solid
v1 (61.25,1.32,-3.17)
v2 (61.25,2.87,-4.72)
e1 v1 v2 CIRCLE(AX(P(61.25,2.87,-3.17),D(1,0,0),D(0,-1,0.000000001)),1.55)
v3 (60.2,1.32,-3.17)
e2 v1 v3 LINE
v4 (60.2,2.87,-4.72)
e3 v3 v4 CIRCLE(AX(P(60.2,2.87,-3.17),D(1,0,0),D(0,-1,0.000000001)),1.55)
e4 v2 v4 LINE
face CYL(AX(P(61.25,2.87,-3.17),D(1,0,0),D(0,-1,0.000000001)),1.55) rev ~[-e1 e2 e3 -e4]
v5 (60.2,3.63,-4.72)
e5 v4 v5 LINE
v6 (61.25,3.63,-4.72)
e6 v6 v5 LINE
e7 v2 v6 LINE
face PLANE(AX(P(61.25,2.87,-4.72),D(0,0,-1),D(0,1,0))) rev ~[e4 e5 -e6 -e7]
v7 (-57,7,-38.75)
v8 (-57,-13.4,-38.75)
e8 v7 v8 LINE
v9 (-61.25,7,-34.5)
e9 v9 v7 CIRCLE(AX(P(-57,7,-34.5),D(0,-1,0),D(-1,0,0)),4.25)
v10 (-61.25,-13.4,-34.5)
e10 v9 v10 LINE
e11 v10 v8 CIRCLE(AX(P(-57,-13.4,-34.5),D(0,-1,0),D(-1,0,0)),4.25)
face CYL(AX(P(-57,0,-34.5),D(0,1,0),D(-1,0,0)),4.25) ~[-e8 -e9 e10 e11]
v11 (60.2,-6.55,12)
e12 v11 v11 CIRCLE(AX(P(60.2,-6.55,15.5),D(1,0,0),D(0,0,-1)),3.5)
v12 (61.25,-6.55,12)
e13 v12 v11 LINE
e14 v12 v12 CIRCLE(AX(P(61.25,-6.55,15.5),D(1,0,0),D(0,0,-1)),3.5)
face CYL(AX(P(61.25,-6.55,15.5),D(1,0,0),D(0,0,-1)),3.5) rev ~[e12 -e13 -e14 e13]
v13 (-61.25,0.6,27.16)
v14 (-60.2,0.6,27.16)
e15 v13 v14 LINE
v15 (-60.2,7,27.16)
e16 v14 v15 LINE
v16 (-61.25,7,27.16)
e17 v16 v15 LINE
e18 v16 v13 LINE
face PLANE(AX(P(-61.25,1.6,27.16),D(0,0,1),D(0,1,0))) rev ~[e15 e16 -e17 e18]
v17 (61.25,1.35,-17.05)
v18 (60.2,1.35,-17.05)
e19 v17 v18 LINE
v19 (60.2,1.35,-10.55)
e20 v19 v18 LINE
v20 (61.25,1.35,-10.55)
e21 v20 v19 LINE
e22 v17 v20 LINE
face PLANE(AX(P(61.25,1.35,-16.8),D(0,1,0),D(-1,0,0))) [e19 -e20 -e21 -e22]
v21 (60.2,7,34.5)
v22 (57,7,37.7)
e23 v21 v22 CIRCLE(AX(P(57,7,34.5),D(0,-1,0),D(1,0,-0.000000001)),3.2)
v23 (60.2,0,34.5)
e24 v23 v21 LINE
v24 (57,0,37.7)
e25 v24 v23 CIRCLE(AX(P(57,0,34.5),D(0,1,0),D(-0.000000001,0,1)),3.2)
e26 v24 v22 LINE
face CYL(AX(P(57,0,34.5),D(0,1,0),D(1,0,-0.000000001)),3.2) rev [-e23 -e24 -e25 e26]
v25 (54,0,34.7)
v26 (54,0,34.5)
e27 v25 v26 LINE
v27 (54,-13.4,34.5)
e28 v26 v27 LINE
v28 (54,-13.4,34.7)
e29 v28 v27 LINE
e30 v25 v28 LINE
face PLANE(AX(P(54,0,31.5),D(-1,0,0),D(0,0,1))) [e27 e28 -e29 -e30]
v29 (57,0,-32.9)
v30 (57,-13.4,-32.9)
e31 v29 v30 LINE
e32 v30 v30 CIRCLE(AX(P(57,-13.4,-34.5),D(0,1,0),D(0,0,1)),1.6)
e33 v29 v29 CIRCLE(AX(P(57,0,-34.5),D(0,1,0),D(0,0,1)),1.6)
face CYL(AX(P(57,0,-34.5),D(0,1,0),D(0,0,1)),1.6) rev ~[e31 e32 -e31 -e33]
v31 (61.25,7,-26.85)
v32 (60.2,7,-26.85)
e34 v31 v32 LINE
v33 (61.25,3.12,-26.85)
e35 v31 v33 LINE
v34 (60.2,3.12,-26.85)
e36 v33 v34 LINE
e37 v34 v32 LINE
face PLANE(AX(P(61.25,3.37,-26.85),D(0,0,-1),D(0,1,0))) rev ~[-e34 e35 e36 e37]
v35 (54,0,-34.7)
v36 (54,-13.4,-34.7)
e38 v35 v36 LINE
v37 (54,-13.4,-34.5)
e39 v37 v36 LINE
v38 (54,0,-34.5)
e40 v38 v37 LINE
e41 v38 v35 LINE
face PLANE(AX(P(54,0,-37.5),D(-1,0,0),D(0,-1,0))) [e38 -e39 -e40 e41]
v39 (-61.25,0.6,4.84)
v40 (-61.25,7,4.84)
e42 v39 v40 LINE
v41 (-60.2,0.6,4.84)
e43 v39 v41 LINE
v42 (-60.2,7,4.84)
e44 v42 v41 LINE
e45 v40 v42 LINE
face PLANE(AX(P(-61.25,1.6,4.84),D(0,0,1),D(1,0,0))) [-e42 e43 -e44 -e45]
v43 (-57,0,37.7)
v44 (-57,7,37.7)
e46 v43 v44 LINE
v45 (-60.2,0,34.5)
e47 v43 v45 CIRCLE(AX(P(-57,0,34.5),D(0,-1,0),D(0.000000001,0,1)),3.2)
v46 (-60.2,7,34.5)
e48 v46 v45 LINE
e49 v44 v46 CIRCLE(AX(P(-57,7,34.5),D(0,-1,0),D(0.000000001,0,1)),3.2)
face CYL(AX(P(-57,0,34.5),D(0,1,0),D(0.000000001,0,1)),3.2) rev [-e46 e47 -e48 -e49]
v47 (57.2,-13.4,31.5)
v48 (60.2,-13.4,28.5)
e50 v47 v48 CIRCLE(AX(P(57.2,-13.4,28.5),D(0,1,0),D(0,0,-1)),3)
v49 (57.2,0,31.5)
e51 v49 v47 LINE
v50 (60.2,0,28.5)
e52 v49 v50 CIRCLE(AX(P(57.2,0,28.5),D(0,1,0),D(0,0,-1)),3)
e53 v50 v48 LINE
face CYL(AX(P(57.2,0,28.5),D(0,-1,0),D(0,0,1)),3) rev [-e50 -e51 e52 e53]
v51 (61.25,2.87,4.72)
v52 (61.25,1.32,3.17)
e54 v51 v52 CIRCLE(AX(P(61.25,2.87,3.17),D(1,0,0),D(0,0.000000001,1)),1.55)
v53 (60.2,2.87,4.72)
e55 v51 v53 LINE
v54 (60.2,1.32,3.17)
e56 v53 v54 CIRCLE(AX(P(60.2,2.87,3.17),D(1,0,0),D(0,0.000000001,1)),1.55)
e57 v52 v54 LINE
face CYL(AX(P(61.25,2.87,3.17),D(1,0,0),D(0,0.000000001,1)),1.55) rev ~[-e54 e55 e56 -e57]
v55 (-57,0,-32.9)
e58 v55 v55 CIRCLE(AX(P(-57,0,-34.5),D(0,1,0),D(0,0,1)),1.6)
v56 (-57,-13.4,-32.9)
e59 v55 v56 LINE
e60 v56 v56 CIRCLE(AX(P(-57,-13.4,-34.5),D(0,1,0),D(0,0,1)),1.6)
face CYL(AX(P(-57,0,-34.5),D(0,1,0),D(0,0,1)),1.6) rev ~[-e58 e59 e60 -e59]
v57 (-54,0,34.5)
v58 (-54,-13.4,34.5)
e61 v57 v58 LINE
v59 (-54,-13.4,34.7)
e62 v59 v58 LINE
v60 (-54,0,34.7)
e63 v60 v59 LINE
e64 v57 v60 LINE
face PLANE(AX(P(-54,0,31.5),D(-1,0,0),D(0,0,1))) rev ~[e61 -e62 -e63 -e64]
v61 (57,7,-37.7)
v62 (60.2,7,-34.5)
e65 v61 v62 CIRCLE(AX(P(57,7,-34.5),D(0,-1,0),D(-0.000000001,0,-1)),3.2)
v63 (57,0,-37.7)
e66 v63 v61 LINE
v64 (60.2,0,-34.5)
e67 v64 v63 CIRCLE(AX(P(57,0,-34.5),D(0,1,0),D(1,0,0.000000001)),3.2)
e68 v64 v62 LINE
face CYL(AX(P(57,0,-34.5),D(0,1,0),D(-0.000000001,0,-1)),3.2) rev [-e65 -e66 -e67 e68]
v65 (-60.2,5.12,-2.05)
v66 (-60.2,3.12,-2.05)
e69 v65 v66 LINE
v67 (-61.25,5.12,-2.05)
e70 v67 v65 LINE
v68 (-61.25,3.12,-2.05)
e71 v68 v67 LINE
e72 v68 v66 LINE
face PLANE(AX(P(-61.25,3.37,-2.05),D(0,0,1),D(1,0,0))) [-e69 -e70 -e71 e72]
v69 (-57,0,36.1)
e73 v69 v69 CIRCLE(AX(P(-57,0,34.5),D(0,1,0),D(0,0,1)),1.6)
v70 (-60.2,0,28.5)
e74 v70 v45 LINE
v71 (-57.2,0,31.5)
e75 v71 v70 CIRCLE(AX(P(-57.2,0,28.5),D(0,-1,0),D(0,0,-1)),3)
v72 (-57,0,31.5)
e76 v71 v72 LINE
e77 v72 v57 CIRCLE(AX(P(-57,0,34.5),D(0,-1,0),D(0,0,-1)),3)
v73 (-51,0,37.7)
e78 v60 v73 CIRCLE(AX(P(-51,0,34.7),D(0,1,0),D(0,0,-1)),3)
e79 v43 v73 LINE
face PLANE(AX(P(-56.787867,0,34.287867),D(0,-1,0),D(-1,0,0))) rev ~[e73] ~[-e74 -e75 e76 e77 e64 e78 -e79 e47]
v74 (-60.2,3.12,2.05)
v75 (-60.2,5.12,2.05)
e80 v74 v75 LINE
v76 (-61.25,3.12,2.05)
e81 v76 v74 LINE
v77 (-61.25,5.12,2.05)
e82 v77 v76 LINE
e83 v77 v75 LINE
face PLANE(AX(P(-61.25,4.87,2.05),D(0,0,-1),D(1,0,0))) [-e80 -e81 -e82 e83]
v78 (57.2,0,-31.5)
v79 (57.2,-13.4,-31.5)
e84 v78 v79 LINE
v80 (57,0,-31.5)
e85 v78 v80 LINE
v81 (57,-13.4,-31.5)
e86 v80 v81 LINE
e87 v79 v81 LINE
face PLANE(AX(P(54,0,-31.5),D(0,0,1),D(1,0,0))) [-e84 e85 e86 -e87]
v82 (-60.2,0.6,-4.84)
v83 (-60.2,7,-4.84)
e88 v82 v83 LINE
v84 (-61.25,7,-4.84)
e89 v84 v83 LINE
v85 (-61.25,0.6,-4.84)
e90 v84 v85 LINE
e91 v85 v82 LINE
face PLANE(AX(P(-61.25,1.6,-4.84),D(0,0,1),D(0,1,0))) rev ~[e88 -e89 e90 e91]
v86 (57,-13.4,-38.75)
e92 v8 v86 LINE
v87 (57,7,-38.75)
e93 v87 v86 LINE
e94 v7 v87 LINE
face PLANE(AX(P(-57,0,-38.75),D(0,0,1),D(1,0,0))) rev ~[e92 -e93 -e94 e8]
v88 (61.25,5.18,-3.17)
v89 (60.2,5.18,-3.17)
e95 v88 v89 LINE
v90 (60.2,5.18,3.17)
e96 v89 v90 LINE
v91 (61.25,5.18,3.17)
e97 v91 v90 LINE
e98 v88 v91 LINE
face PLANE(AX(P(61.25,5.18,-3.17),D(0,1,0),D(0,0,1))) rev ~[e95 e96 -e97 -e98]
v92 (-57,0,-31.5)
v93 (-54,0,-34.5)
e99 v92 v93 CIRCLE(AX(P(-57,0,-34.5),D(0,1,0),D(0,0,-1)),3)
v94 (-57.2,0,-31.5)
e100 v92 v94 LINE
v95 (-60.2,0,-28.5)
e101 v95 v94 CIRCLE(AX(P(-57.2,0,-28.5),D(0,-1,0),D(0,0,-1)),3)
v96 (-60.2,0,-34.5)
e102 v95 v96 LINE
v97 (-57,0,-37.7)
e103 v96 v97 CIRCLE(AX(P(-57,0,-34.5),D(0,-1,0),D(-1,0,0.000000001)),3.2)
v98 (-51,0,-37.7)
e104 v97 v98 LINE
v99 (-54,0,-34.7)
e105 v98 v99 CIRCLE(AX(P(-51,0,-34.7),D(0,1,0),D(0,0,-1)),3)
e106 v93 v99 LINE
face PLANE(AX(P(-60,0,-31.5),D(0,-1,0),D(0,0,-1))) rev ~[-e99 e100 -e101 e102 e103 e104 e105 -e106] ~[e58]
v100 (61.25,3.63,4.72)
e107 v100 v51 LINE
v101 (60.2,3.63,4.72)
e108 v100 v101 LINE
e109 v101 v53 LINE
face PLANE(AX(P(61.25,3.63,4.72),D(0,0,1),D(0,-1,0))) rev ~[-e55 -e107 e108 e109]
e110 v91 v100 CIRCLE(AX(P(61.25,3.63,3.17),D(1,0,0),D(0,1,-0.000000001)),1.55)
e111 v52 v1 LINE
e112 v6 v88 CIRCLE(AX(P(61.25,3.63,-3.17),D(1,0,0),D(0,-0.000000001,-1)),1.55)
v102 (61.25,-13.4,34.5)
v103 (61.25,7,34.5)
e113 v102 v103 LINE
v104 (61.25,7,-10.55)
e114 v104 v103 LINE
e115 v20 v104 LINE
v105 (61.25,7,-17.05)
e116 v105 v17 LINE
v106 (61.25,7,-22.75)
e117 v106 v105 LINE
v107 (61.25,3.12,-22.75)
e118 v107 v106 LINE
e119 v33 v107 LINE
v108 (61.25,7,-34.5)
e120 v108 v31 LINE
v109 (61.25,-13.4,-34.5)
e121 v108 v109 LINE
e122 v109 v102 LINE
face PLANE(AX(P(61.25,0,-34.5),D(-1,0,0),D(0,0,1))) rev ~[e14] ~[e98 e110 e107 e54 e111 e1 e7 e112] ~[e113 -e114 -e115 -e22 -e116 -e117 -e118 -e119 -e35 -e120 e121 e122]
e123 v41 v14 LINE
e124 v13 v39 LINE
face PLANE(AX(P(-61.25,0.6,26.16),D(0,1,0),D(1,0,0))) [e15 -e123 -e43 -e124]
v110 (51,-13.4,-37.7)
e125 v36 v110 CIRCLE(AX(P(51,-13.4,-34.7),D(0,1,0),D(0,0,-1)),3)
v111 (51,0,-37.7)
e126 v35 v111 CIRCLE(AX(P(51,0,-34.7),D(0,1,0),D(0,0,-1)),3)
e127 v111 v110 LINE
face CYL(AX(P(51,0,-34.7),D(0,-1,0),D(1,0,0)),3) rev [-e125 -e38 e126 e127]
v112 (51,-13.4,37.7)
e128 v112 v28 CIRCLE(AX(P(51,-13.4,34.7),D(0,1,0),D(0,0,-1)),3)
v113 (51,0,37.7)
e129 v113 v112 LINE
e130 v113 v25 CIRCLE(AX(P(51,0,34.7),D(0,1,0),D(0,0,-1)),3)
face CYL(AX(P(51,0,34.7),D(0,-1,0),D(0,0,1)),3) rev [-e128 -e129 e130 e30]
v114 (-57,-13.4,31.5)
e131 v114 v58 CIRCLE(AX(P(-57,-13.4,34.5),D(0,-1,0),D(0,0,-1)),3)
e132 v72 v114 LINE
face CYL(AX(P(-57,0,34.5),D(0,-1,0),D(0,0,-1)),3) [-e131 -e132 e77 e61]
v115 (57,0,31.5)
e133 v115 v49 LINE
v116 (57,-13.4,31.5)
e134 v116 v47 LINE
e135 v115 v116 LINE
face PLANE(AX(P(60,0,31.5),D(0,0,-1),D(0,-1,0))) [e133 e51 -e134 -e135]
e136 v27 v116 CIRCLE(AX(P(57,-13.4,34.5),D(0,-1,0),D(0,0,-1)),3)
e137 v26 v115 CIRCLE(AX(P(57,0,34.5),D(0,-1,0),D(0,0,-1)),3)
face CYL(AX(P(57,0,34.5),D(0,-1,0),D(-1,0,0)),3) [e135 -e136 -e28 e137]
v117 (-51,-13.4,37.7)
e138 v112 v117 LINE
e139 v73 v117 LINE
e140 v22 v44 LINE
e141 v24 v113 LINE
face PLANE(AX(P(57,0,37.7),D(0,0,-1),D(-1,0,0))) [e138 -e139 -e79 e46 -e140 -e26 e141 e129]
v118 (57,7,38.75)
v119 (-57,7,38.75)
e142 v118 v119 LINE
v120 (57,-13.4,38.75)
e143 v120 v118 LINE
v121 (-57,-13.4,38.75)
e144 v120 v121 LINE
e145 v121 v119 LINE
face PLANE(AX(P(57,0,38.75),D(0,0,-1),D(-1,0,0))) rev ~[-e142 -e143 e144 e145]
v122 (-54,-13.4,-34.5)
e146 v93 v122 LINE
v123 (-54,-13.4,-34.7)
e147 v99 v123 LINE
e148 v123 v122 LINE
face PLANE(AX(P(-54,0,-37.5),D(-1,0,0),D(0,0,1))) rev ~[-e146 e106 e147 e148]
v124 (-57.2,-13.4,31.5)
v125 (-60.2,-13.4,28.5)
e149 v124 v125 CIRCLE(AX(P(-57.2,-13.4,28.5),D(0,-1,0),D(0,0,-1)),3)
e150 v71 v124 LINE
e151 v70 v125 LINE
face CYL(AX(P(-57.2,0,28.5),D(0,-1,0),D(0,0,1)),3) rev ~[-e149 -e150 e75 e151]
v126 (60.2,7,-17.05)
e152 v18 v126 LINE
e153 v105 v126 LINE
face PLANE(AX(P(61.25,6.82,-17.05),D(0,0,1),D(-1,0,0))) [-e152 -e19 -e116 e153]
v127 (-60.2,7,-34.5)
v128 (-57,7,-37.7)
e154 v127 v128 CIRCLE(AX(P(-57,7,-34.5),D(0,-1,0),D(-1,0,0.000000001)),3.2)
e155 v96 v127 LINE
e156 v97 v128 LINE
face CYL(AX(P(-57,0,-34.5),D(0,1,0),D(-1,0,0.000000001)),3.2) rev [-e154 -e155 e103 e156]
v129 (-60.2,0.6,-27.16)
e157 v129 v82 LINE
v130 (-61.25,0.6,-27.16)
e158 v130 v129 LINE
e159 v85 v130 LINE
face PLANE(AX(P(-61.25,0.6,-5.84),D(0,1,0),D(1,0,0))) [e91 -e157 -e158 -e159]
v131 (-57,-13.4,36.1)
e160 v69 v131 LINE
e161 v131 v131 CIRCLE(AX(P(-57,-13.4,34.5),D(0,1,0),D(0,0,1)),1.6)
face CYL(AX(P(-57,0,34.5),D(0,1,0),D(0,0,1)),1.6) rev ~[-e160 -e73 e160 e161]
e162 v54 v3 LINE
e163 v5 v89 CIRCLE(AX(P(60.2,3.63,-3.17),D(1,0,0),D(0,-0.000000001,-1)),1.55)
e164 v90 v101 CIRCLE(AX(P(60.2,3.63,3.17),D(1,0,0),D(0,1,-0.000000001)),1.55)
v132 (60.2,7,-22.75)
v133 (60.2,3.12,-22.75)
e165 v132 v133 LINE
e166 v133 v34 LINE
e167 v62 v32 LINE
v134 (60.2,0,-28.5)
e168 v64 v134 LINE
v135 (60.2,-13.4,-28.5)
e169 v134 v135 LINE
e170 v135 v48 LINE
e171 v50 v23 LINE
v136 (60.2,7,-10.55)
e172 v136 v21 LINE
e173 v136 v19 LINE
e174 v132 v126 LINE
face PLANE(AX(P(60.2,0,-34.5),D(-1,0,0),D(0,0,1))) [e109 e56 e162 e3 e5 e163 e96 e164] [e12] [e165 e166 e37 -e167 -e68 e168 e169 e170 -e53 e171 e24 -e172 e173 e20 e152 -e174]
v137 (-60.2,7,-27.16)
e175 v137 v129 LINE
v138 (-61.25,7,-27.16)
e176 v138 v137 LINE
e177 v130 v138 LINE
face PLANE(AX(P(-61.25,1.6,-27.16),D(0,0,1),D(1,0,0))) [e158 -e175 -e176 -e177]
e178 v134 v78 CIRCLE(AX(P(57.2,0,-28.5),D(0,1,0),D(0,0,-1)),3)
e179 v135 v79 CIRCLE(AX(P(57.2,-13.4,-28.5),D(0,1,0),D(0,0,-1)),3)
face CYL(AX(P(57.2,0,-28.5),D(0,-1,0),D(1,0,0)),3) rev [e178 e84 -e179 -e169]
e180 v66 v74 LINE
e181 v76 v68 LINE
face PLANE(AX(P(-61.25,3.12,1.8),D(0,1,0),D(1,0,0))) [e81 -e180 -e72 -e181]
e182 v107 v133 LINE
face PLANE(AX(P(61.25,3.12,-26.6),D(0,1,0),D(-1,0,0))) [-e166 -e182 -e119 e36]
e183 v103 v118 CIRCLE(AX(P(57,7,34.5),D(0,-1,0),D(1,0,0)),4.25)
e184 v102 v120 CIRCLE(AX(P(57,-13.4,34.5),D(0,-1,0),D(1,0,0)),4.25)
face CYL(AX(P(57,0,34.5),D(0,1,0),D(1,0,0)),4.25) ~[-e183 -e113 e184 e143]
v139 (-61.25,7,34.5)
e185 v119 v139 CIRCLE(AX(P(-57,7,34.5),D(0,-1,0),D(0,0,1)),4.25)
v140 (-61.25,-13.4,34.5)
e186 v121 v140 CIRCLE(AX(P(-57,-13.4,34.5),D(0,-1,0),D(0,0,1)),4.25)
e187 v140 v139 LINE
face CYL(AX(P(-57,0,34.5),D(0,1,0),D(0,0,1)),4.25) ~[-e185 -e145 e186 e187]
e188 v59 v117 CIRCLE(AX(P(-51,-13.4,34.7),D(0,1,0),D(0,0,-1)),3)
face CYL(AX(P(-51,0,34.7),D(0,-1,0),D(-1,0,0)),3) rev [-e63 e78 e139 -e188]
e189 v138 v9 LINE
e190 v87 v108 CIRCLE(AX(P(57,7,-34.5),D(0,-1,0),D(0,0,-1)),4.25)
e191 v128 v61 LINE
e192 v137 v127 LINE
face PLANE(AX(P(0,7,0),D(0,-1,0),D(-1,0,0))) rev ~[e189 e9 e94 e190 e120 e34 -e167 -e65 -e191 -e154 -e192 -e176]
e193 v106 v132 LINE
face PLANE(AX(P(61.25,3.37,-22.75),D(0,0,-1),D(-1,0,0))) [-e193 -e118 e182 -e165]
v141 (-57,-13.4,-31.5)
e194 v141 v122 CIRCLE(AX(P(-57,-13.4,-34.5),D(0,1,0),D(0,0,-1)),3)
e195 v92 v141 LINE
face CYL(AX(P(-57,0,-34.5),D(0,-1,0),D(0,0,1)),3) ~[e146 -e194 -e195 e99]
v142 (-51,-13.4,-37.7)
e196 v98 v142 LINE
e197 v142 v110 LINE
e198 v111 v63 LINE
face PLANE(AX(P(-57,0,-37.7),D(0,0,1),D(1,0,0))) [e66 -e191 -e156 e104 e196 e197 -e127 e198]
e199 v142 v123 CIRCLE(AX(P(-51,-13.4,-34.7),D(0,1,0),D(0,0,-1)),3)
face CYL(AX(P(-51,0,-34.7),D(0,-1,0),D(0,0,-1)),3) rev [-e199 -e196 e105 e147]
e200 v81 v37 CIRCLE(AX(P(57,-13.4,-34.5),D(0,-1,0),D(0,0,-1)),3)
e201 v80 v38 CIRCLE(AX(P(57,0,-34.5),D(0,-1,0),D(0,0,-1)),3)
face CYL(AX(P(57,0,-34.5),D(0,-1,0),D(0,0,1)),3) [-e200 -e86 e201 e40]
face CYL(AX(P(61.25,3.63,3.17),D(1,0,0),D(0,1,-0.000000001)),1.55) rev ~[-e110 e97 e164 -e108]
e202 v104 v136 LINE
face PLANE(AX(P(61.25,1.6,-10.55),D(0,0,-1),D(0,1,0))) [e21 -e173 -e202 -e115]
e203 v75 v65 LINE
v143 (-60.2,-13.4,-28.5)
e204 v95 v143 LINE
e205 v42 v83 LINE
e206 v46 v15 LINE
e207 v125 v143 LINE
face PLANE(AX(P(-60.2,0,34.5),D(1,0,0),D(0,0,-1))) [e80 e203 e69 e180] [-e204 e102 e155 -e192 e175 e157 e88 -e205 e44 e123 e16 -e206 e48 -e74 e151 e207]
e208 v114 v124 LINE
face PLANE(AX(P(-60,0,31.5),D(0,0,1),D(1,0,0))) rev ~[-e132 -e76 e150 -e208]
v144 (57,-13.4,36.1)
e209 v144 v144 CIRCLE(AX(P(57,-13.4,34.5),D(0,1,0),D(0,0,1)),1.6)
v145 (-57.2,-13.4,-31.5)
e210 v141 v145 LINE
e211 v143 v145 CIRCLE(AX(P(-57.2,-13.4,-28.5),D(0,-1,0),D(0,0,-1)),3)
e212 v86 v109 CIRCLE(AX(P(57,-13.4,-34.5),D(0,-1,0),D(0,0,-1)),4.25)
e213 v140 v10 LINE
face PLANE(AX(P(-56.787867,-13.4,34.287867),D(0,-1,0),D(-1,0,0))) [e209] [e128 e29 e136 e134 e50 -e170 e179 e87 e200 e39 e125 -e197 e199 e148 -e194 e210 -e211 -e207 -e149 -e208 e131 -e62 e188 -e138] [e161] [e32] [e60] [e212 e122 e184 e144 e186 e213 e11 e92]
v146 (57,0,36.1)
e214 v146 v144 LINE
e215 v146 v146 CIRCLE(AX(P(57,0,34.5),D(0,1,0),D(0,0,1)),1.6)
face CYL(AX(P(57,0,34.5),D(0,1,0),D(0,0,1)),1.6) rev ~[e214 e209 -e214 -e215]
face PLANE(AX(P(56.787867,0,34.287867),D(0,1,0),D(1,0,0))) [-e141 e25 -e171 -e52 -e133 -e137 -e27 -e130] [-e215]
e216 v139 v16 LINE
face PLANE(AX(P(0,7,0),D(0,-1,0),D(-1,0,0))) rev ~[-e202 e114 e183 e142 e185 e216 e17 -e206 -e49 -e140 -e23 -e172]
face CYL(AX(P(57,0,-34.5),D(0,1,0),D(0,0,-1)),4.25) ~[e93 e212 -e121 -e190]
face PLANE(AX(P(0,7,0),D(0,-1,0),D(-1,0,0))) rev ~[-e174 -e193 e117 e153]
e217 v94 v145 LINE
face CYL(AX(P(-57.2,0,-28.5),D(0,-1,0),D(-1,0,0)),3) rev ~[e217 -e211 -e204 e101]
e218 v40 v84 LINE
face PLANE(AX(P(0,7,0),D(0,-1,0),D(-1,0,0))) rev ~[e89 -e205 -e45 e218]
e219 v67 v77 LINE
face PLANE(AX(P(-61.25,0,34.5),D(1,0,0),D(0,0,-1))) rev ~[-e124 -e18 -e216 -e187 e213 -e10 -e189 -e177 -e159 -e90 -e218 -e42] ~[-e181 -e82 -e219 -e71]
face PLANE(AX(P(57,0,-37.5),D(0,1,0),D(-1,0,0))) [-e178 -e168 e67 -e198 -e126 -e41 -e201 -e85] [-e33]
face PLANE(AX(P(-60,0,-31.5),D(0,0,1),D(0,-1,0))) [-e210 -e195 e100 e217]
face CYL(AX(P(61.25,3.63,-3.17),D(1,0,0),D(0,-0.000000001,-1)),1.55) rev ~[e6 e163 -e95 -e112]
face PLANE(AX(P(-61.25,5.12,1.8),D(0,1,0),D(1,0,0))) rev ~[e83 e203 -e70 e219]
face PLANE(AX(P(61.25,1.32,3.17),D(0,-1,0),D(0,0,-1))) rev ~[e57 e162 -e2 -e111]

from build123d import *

# Parameters (mm, degrees)
WALLS_DEPTH         = 7
WALLS_DEPTH_BACK    = 13.4
SKETCH11_R          = 1.6
BOSS_EXTRUDE4_DEPTH = 13.4
MOVE_FACE7_BY       = 0.2
MOVE_FACE7_2_BY     = 0.2
MOVE_FACE7_3_BY     = 0.2
MOVE_FACE7_4_BY     = 0.2
MOVE_FACE7_5_BY     = 0.2
MOVE_FACE7_6_BY     = 0.2
MOVE_FACE7_7_BY     = 0.2
MOVE_FACE7_8_BY     = 0.2
FILLET1_R           = 3
SKETCH8_R           = 3.25
SKETCH8_W           = 6
SKETCH8_H           = 5.22
CUT_EXTRUDE3_DEPTH  = 1.05
CUT_EXTRUDE4_REACH  = 131.18
SKETCH10_W          = 20.32
SKETCH10_H          = 5.4
SKETCH10_W_2        = 3.6
SKETCH10_H_2        = 1.5
MOVE_FACE3_BY       = 0.25
MOVE_FACE3_2_BY     = 0.25
MOVE_FACE3_3_BY     = 0.25
MOVE_FACE4_BY       = 0.25
MOVE_FACE4_2_BY     = 0.25
MOVE_FACE4_3_BY     = 0.25
MOVE_FACE4_4_BY     = 0.25
MOVE_FACE4_5_BY     = 0.25
MOVE_FACE4_6_BY     = 0.25
MOVE_FACE4_7_BY     = 0.25
MOVE_FACE4_8_BY     = 0.25
MOVE_FACE4_9_BY     = 0.25
MOVE_FACE4_10_BY    = 0.25
MOVE_FACE4_11_BY    = 0.25
MOVE_FACE4_12_BY    = 0.25
MOVE_FACE4_13_BY    = 0.25
MOVE_FACE1_BY       = 1
MOVE_FACE1_2_BY     = 1
MOVE_FACE1_3_BY     = 1
MOVE_FACE1_4_BY     = 1
MOVE_FACE1_5_BY     = 1
MOVE_FACE1_6_BY     = 1
MOVE_FACE2_BY       = 0.25
MOVE_FACE2_2_BY     = 0.25
MOVE_FACE2_3_BY     = 0.25
MOVE_FACE2_4_BY     = 0.25
SKETCH4_R           = 2.15
BOTTOM_LID_DEPTH    = 3
SKETCH5_R           = 5.5
SKETCH5_R_2         = 1.6
SKETCH5_W           = 7.62
SKETCH5_H           = 2.54
TOP_LID_DEPTH       = 1.6
MOVE_FACE5_BY       = 0.25
MOVE_FACE5_2_BY     = 0.25
MOVE_FACE5_3_BY     = 0.25
MOVE_FACE5_4_BY     = 0.25


with BuildPart() as part:
    # Sketch2 → Walls (new, two sides)
    with BuildSketch(Plane(origin=(0, 0, 0), x_dir=(1, 0, 0), z_dir=(0, 1, 0))) as walls_sk:
        with BuildLine():
            Line((-61.25, -34.5), (-61.25, 34.5))
            ThreePointArc((-61.25, 34.5), (-60.00520382, 37.50520382), (-57, 38.75))
            Line((-57, 38.75), (57, 38.75))
            ThreePointArc((57, 38.75), (60.00520382, 37.50520382), (61.25, 34.5))
            Line((61.25, 34.5), (61.25, -34.5))
            ThreePointArc((61.25, -34.5), (60.00520382, -37.50520382), (57, -38.75))
            Line((57, -38.75), (-57, -38.75))
            ThreePointArc((-57, -38.75), (-60.00520382, -37.50520382), (-61.25, -34.5))
        make_face()
        with BuildLine():
            Line((-60, -34.5), (-60, 34.5))
            ThreePointArc((-60, 34.5), (-59.121320344, 36.621320344), (-57, 37.5))
            Line((-57, 37.5), (57, 37.5))
            ThreePointArc((57, 37.5), (59.121320344, 36.621320344), (60, 34.5))
            Line((60, 34.5), (60, -34.5))
            ThreePointArc((60, -34.5), (59.121320344, -36.621320344), (57, -37.5))
            Line((57, -37.5), (-57, -37.5))
            ThreePointArc((-57, -37.5), (-59.121320344, -36.621320344), (-60, -34.5))
        make_face(mode=Mode.SUBTRACT)
    extrude(amount=WALLS_DEPTH)
    extrude(walls_sk.sketch, amount=-WALLS_DEPTH_BACK)

    # Sketch11 → Boss-Extrude4 (add)
    with BuildSketch(Plane(origin=(0, 0, 0), x_dir=(1, 0, 0), z_dir=(0, 1, 0))):
        with BuildLine():
            Line((-60, -34.5), (-60, -31.5))
            Line((-60, -31.5), (-54, -31.5))
            Line((-54, -31.5), (-54, -37.5))
            Line((-54, -37.5), (-57, -37.5))
            ThreePointArc((-57, -37.5), (-59.121320344, -36.621320344), (-60, -34.5))
        make_face()
        with Locations(Location((-57, -34.5, 0), (0, 0, 270))):
            Circle(SKETCH11_R, mode=Mode.SUBTRACT)
        with BuildLine():
            Line((-57, 37.5), (-54, 37.5))
            Line((-54, 37.5), (-54, 31.5))
            Line((-54, 31.5), (-60, 31.5))
            Line((-60, 31.5), (-60, 34.5))
            ThreePointArc((-60, 34.5), (-59.121320344, 36.621320344), (-57, 37.5))
        make_face()
        with Locations(Location((-57, 34.5, 0), (0, 0, 270))):
            Circle(SKETCH11_R, mode=Mode.SUBTRACT)
        with BuildLine():
            Line((60, -31.5), (54, -31.5))
            Line((54, -31.5), (54, -37.5))
            Line((54, -37.5), (57, -37.5))
            ThreePointArc((57, -37.5), (59.121320344, -36.621320344), (60, -34.5))
            Line((60, -34.5), (60, -31.5))
        make_face()
        with Locations(Location((57, -34.5, 0), (0, 0, 270))):
            Circle(SKETCH11_R, mode=Mode.SUBTRACT)
        with BuildLine():
            Line((57, 37.5), (54, 37.5))
            Line((54, 37.5), (54, 31.5))
            Line((54, 31.5), (60, 31.5))
            Line((60, 31.5), (60, 34.5))
            ThreePointArc((60, 34.5), (59.121320344, 36.621320344), (57, 37.5))
        make_face()
        with Locations(Location((57, 34.5, 0), (0, 0, 270))):
            Circle(SKETCH11_R, mode=Mode.SUBTRACT)
    extrude(amount=-BOSS_EXTRUDE4_DEPTH)

    # Move Face7: a curved face moved inward by 0.2
    add(Solid.thicken(part.faces().sort_by_distance((59.121320344, 3.5, 36.621320344))[0], -MOVE_FACE7_BY), mode=Mode.SUBTRACT)

    # Move Face7 2: a face moved inward by 0.2
    extrude(part.faces().sort_by_distance((60, -2.987974684, 0))[0], amount=MOVE_FACE7_2_BY, dir=(1, 0, 0), mode=Mode.SUBTRACT)

    # Move Face7 3: a curved face moved inward by 0.2
    add(Solid.thicken(part.faces().sort_by_distance((59.121320344, 3.5, -36.621320344))[0], -MOVE_FACE7_3_BY), mode=Mode.SUBTRACT)

    # Move Face7 4: a face moved inward by 0.2
    extrude(part.faces().sort_by_distance((0, -3.074665954, -37.5))[0], amount=MOVE_FACE7_4_BY, dir=(0, 0, -1), mode=Mode.SUBTRACT)

    # Move Face7 5: a curved face moved inward by 0.2
    add(Solid.thicken(part.faces().sort_by_distance((-59.121320344, 3.5, -36.621320344))[0], -MOVE_FACE7_5_BY), mode=Mode.SUBTRACT)

    # Move Face7 6: a face moved inward by 0.2
    extrude(part.faces().sort_by_distance((-60, -2.987974684, 0))[0], amount=MOVE_FACE7_6_BY, dir=(-1, 0, 0), mode=Mode.SUBTRACT)

    # Move Face7 7: a face moved inward by 0.2
    extrude(part.faces().sort_by_distance((0, -3.074665954, 37.5))[0], amount=MOVE_FACE7_7_BY, dir=(0, 0, 1), mode=Mode.SUBTRACT)

    # Move Face7 8: a curved face moved inward by 0.2
    add(Solid.thicken(part.faces().sort_by_distance((-59.121320344, 3.5, 36.621320344))[0], -MOVE_FACE7_8_BY), mode=Mode.SUBTRACT)

    # Fillet1
    fillet1_edges = [part.edges().sort_by_distance(p)[0] for p in [
        (-60.2, -6.7, -31.5),
        (-54, -6.7, -31.5),
        (-54, -6.7, -37.7),
        (54, -6.7, 31.5),
        (54, -6.7, 37.7),
        (60.2, -6.7, 31.5),
        (54, -6.7, -37.7),
        (54, -6.7, -31.5),
        (60.2, -6.7, -31.5),
        (-54, -6.7, 37.7),
        (-54, -6.7, 31.5),
        (-60.2, -6.7, 31.5),
    ]]
    fillet(fillet1_edges, radius=FILLET1_R)

    # Sketch8 → Cut-Extrude3 (cut)
    with BuildSketch(Plane(origin=(61.25, 0, 0), x_dir=(0, 0, -1), z_dir=(1, 0, 0))):
        with Locations((-15.5, -6.55)):
            Circle(SKETCH8_R)
        with BuildLine():
            Line((-3.17, 1.57), (3.17, 1.57))
            ThreePointArc((3.17, 1.57), (4.089238816, 1.950761184), (4.47, 2.87))
            Line((4.47, 2.87), (4.47, 3.63))
            ThreePointArc((4.47, 3.63), (4.089238816, 4.549238816), (3.17, 4.93))
            Line((3.17, 4.93), (-3.17, 4.93))
            ThreePointArc((-3.17, 4.93), (-4.089238816, 4.549238816), (-4.47, 3.63))
            Line((-4.47, 3.63), (-4.47, 2.87))
            ThreePointArc((-4.47, 2.87), (-4.089238816, 1.950761184), (-3.17, 1.57))
        make_face()
        Polygon((23, 4.87), (23, 7), (26.6, 7), (26.6, 4.87), (26.6, 3.37), (23, 3.37), align=None)
        with Locations((13.8, 4.21)):
            Rectangle(SKETCH8_W, SKETCH8_H)
    extrude(amount=-CUT_EXTRUDE3_DEPTH, mode=Mode.SUBTRACT)

    # Sketch10 → Cut-Extrude4 (cut, up to next)
    with BuildSketch(Plane.ZY.offset(61.25), mode=Mode.PRIVATE) as cut_extrude4_sk1:
        with Locations((16, 4.3)):
            Rectangle(SKETCH10_W, SKETCH10_H)
    cut_extrude4_tool1 = extrude(cut_extrude4_sk1.sketch, amount=-CUT_EXTRUDE4_REACH, mode=Mode.PRIVATE) & part.part
    # Sketch10 → Cut-Extrude4 (cut, up to next)
    with BuildSketch(Plane.ZY.offset(61.25), mode=Mode.PRIVATE) as cut_extrude4_sk2:
        with Locations((-16, 4.3)):
            Rectangle(SKETCH10_W, SKETCH10_H)
    cut_extrude4_tool2 = extrude(cut_extrude4_sk2.sketch, amount=-CUT_EXTRUDE4_REACH, mode=Mode.PRIVATE) & part.part
    # Sketch10 → Cut-Extrude4 (cut, up to next)
    with BuildSketch(Plane.ZY.offset(61.25), mode=Mode.PRIVATE) as cut_extrude4_sk3:
        with Locations((0, 4.12)):
            Rectangle(SKETCH10_W_2, SKETCH10_H_2)
    cut_extrude4_tool3 = extrude(cut_extrude4_sk3.sketch, amount=-CUT_EXTRUDE4_REACH, mode=Mode.PRIVATE) & part.part
    add(cut_extrude4_tool1.solids().sort_by_distance((-61.25, 4.3, 16))[0], mode=Mode.SUBTRACT)
    add(cut_extrude4_tool2.solids().sort_by_distance((-61.25, 4.3, -16))[0], mode=Mode.SUBTRACT)
    add(cut_extrude4_tool3.solids().sort_by_distance((-61.25, 4.12, 0))[0], mode=Mode.SUBTRACT)

    # Move Face3: a face moved inward by 0.25
    extrude(part.faces().sort_by_distance((60.725, 5.185, -23))[0], amount=MOVE_FACE3_BY, dir=(0, 0, 1), mode=Mode.SUBTRACT)

    # Move Face3 2: a face moved inward by 0.25
    extrude(part.faces().sort_by_distance((60.725, 5.185, -26.6))[0], amount=MOVE_FACE3_2_BY, dir=(0, 0, -1), mode=Mode.SUBTRACT)

    # Move Face3 3: a face moved inward by 0.25
    extrude(part.faces().sort_by_distance((60.725, 3.37, -24.8))[0], amount=MOVE_FACE3_3_BY, dir=(0, -1, 0), mode=Mode.SUBTRACT)

    # Move Face4: a curved face moved inward by 0.25
    add(Solid.thicken(part.faces().sort_by_distance((60.725, -6.55, 18.75))[0], -MOVE_FACE4_BY), mode=Mode.SUBTRACT)

    # Move Face4 2: a curved face moved inward by 0.25
    add(Solid.thicken(part.faces().sort_by_distance((60.725, 1.950761184, 4.089238816))[0], -MOVE_FACE4_2_BY), mode=Mode.SUBTRACT)

    # Move Face4 3: a face moved inward by 0.25
    extrude(part.faces().sort_by_distance((60.725, 3.25, 4.47))[0], amount=MOVE_FACE4_3_BY, dir=(0, 0, 1), mode=Mode.SUBTRACT)

    # Move Face4 4: a curved face moved inward by 0.25
    add(Solid.thicken(part.faces().sort_by_distance((60.725, 4.549238816, 4.089238816))[0], -MOVE_FACE4_4_BY), mode=Mode.SUBTRACT)

    # Move Face4 5: a face moved inward by 0.25
    extrude(part.faces().sort_by_distance((60.725, 4.93, 0))[0], amount=MOVE_FACE4_5_BY, dir=(0, 1, 0), mode=Mode.SUBTRACT)

    # Move Face4 6: a curved face moved inward by 0.25
    add(Solid.thicken(part.faces().sort_by_distance((60.725, 1.950761184, -4.089238816))[0], -MOVE_FACE4_6_BY), mode=Mode.SUBTRACT)

    # Move Face4 7: a face moved inward by 0.25
    extrude(part.faces().sort_by_distance((60.725, 1.57, 0))[0], amount=MOVE_FACE4_7_BY, dir=(0, -1, 0), mode=Mode.SUBTRACT)

    # Move Face4 8: a face moved inward by 0.25
    extrude(part.faces().sort_by_distance((60.725, 3.25, -4.47))[0], amount=MOVE_FACE4_8_BY, dir=(0, 0, -1), mode=Mode.SUBTRACT)

    # Move Face4 9: a curved face moved inward by 0.25
    add(Solid.thicken(part.faces().sort_by_distance((60.725, 4.549238816, -4.089238816))[0], -MOVE_FACE4_9_BY), mode=Mode.SUBTRACT)

    # Move Face4 10: a face moved inward by 0.25
    extrude(part.faces().sort_by_distance((60.725, 1.6, -13.8))[0], amount=MOVE_FACE4_10_BY, dir=(0, -1, 0), mode=Mode.SUBTRACT)

    # Move Face4 11: a face moved inward by 0.25
    extrude(part.faces().sort_by_distance((60.725, 4.21, -16.8))[0], amount=MOVE_FACE4_11_BY, dir=(0, 0, -1), mode=Mode.SUBTRACT)

    # Move Face4 12: a face moved inward by 0.25
    extrude(part.faces().sort_by_distance((60.725, 4.21, -10.8))[0], amount=MOVE_FACE4_12_BY, dir=(0, 0, 1), mode=Mode.SUBTRACT)

    # Move Face4 13: a face moved inward by 0.25
    extrude(part.faces().sort_by_distance((60.725, 6.82, -13.8))[0], amount=MOVE_FACE4_13_BY, dir=(0, 1, 0), mode=Mode.SUBTRACT)

    # Move Face1: a face moved inward by 1.0
    extrude(part.faces().sort_by_distance((-60.725, 4.3, 26.16))[0], amount=MOVE_FACE1_BY, dir=(0, 0, 1), mode=Mode.SUBTRACT)

    # Move Face1 2: a face moved inward by 1.0
    extrude(part.faces().sort_by_distance((-60.725, 1.6, 16))[0], amount=MOVE_FACE1_2_BY, dir=(0, -1, 0), mode=Mode.SUBTRACT)

    # Move Face1 3: a face moved inward by 1.0
    extrude(part.faces().sort_by_distance((-60.725, 4.3, 5.84))[0], amount=MOVE_FACE1_3_BY, dir=(0, 0, -1), mode=Mode.SUBTRACT)

    # Move Face1 4: a face moved inward by 1.0
    extrude(part.faces().sort_by_distance((-60.725, 4.3, -26.16))[0], amount=MOVE_FACE1_4_BY, dir=(0, 0, -1), mode=Mode.SUBTRACT)

    # Move Face1 5: a face moved inward by 1.0
    extrude(part.faces().sort_by_distance((-60.725, 1.6, -16))[0], amount=MOVE_FACE1_5_BY, dir=(0, -1, 0), mode=Mode.SUBTRACT)

    # Move Face1 6: a face moved inward by 1.0
    extrude(part.faces().sort_by_distance((-60.725, 4.3, -5.84))[0], amount=MOVE_FACE1_6_BY, dir=(0, 0, 1), mode=Mode.SUBTRACT)

    # Move Face2: a face moved inward by 0.25
    extrude(part.faces().sort_by_distance((-60.725, 4.12, -1.8))[0], amount=MOVE_FACE2_BY, dir=(0, 0, -1), mode=Mode.SUBTRACT)

    # Move Face2 2: a face moved inward by 0.25
    extrude(part.faces().sort_by_distance((-60.725, 4.87, 0))[0], amount=MOVE_FACE2_2_BY, dir=(0, 1, 0), mode=Mode.SUBTRACT)

    # Move Face2 3: a face moved inward by 0.25
    extrude(part.faces().sort_by_distance((-60.725, 3.37, 0))[0], amount=MOVE_FACE2_3_BY, dir=(0, -1, 0), mode=Mode.SUBTRACT)

    # Move Face2 4: a face moved inward by 0.25
    extrude(part.faces().sort_by_distance((-60.725, 4.12, 1.8))[0], amount=MOVE_FACE2_4_BY, dir=(0, 0, 1), mode=Mode.SUBTRACT)


with BuildPart() as body_2:
    # Sketch4 → Bottom Lid (new body)
    with BuildSketch(Plane.XZ.offset(13.4)):
        with BuildLine():
            Line((-57, -38.75), (57, -38.75))
            ThreePointArc((57, -38.75), (60.00520382, -37.50520382), (61.25, -34.5))
            Line((61.25, -34.5), (61.25, 34.5))
            ThreePointArc((61.25, 34.5), (60.00520382, 37.50520382), (57, 38.75))
            Line((57, 38.75), (-57, 38.75))
            ThreePointArc((-57, 38.75), (-60.00520382, 37.50520382), (-61.25, 34.5))
            Line((-61.25, 34.5), (-61.25, -34.5))
            ThreePointArc((-61.25, -34.5), (-60.00520382, -37.50520382), (-57, -38.75))
        make_face()
        with Locations(Location((57, -34.5, 0), (0, 0, 270))):
            Circle(SKETCH4_R, mode=Mode.SUBTRACT)
        with Locations(Location((-57, -34.5, 0), (0, 0, 270))):
            Circle(SKETCH4_R, mode=Mode.SUBTRACT)
        with Locations(Location((-57, 34.5, 0), (0, 0, 270))):
            Circle(SKETCH4_R, mode=Mode.SUBTRACT)
        with Locations(Location((57, 34.5, 0), (0, 0, 270))):
            Circle(SKETCH4_R, mode=Mode.SUBTRACT)
    extrude(amount=BOTTOM_LID_DEPTH)


with BuildPart() as body_3:
    # Sketch5 → Top Lid (new body)
    with BuildSketch(Plane(origin=(0, 7, 0), x_dir=(1, 0, 0), z_dir=(0, 1, 0))):
        with BuildLine():
            Line((57, 38.75), (-57, 38.75))
            ThreePointArc((-57, 38.75), (-60.00520382, 37.50520382), (-61.25, 34.5))
            Line((-61.25, 34.5), (-61.25, -34.5))
            ThreePointArc((-61.25, -34.5), (-60.00520382, -37.50520382), (-57, -38.75))
            Line((-57, -38.75), (57, -38.75))
            ThreePointArc((57, -38.75), (60.00520382, -37.50520382), (61.25, -34.5))
            Line((61.25, -34.5), (61.25, 34.5))
            ThreePointArc((61.25, 34.5), (60.00520382, 37.50520382), (57, 38.75))
        make_face()
        with Locations(Location((42, 27.5, 0), (0, 0, 270))):
            Circle(SKETCH5_R, mode=Mode.SUBTRACT)
        with Locations(Location((-14, 27.5, 0), (0, 0, 270))):
            Circle(SKETCH5_R, mode=Mode.SUBTRACT)
        with Locations(Location((14, 27.5, 0), (0, 0, 270))):
            Circle(SKETCH5_R, mode=Mode.SUBTRACT)
        with Locations(Location((-42, 27.5, 0), (0, 0, 270))):
            Circle(SKETCH5_R, mode=Mode.SUBTRACT)
        with Locations(Location((42, -27.5, 0), (0, 0, 270))):
            Circle(SKETCH5_R, mode=Mode.SUBTRACT)
        with Locations(Location((14, -27.5, 0), (0, 0, 270))):
            Circle(SKETCH5_R, mode=Mode.SUBTRACT)
        with Locations(Location((-14, -27.5, 0), (0, 0, 270))):
            Circle(SKETCH5_R, mode=Mode.SUBTRACT)
        with Locations(Location((-42, -27.5, 0), (0, 0, 270))):
            Circle(SKETCH5_R, mode=Mode.SUBTRACT)
        with Locations(Location((-57, -34.5, 0), (0, 0, 270))):
            Circle(SKETCH5_R_2, mode=Mode.SUBTRACT)
        with Locations(Location((-57, 34.5, 0), (0, 0, 270))):
            Circle(SKETCH5_R_2, mode=Mode.SUBTRACT)
        with Locations(Location((57, 34.5, 0), (0, 0, 270))):
            Circle(SKETCH5_R_2, mode=Mode.SUBTRACT)
        with Locations(Location((57, -34.5, 0), (0, 0, 270))):
            Circle(SKETCH5_R_2, mode=Mode.SUBTRACT)
        with Locations((6.24, 11.2375)):
            Rectangle(SKETCH5_W, SKETCH5_H, mode=Mode.SUBTRACT)
    extrude(amount=TOP_LID_DEPTH)

    # Move Face5: a face moved inward by 0.25
    extrude(body_3.faces().sort_by_distance((2.43, 7.8, -11.2375))[0], amount=MOVE_FACE5_BY, dir=(-1, 0, 0), mode=Mode.SUBTRACT)

    # Move Face5 2: a face moved inward by 0.25
    extrude(body_3.faces().sort_by_distance((6.24, 7.8, -9.9675))[0], amount=MOVE_FACE5_2_BY, dir=(0, 0, 1), mode=Mode.SUBTRACT)

    # Move Face5 3: a face moved inward by 0.25
    extrude(body_3.faces().sort_by_distance((10.05, 7.8, -11.2375))[0], amount=MOVE_FACE5_3_BY, dir=(1, 0, 0), mode=Mode.SUBTRACT)

    # Move Face5 4: a face moved inward by 0.25
    extrude(body_3.faces().sort_by_distance((6.24, 7.8, -12.5075))[0], amount=MOVE_FACE5_4_BY, dir=(0, 0, -1), mode=Mode.SUBTRACT)


solid = part.part
